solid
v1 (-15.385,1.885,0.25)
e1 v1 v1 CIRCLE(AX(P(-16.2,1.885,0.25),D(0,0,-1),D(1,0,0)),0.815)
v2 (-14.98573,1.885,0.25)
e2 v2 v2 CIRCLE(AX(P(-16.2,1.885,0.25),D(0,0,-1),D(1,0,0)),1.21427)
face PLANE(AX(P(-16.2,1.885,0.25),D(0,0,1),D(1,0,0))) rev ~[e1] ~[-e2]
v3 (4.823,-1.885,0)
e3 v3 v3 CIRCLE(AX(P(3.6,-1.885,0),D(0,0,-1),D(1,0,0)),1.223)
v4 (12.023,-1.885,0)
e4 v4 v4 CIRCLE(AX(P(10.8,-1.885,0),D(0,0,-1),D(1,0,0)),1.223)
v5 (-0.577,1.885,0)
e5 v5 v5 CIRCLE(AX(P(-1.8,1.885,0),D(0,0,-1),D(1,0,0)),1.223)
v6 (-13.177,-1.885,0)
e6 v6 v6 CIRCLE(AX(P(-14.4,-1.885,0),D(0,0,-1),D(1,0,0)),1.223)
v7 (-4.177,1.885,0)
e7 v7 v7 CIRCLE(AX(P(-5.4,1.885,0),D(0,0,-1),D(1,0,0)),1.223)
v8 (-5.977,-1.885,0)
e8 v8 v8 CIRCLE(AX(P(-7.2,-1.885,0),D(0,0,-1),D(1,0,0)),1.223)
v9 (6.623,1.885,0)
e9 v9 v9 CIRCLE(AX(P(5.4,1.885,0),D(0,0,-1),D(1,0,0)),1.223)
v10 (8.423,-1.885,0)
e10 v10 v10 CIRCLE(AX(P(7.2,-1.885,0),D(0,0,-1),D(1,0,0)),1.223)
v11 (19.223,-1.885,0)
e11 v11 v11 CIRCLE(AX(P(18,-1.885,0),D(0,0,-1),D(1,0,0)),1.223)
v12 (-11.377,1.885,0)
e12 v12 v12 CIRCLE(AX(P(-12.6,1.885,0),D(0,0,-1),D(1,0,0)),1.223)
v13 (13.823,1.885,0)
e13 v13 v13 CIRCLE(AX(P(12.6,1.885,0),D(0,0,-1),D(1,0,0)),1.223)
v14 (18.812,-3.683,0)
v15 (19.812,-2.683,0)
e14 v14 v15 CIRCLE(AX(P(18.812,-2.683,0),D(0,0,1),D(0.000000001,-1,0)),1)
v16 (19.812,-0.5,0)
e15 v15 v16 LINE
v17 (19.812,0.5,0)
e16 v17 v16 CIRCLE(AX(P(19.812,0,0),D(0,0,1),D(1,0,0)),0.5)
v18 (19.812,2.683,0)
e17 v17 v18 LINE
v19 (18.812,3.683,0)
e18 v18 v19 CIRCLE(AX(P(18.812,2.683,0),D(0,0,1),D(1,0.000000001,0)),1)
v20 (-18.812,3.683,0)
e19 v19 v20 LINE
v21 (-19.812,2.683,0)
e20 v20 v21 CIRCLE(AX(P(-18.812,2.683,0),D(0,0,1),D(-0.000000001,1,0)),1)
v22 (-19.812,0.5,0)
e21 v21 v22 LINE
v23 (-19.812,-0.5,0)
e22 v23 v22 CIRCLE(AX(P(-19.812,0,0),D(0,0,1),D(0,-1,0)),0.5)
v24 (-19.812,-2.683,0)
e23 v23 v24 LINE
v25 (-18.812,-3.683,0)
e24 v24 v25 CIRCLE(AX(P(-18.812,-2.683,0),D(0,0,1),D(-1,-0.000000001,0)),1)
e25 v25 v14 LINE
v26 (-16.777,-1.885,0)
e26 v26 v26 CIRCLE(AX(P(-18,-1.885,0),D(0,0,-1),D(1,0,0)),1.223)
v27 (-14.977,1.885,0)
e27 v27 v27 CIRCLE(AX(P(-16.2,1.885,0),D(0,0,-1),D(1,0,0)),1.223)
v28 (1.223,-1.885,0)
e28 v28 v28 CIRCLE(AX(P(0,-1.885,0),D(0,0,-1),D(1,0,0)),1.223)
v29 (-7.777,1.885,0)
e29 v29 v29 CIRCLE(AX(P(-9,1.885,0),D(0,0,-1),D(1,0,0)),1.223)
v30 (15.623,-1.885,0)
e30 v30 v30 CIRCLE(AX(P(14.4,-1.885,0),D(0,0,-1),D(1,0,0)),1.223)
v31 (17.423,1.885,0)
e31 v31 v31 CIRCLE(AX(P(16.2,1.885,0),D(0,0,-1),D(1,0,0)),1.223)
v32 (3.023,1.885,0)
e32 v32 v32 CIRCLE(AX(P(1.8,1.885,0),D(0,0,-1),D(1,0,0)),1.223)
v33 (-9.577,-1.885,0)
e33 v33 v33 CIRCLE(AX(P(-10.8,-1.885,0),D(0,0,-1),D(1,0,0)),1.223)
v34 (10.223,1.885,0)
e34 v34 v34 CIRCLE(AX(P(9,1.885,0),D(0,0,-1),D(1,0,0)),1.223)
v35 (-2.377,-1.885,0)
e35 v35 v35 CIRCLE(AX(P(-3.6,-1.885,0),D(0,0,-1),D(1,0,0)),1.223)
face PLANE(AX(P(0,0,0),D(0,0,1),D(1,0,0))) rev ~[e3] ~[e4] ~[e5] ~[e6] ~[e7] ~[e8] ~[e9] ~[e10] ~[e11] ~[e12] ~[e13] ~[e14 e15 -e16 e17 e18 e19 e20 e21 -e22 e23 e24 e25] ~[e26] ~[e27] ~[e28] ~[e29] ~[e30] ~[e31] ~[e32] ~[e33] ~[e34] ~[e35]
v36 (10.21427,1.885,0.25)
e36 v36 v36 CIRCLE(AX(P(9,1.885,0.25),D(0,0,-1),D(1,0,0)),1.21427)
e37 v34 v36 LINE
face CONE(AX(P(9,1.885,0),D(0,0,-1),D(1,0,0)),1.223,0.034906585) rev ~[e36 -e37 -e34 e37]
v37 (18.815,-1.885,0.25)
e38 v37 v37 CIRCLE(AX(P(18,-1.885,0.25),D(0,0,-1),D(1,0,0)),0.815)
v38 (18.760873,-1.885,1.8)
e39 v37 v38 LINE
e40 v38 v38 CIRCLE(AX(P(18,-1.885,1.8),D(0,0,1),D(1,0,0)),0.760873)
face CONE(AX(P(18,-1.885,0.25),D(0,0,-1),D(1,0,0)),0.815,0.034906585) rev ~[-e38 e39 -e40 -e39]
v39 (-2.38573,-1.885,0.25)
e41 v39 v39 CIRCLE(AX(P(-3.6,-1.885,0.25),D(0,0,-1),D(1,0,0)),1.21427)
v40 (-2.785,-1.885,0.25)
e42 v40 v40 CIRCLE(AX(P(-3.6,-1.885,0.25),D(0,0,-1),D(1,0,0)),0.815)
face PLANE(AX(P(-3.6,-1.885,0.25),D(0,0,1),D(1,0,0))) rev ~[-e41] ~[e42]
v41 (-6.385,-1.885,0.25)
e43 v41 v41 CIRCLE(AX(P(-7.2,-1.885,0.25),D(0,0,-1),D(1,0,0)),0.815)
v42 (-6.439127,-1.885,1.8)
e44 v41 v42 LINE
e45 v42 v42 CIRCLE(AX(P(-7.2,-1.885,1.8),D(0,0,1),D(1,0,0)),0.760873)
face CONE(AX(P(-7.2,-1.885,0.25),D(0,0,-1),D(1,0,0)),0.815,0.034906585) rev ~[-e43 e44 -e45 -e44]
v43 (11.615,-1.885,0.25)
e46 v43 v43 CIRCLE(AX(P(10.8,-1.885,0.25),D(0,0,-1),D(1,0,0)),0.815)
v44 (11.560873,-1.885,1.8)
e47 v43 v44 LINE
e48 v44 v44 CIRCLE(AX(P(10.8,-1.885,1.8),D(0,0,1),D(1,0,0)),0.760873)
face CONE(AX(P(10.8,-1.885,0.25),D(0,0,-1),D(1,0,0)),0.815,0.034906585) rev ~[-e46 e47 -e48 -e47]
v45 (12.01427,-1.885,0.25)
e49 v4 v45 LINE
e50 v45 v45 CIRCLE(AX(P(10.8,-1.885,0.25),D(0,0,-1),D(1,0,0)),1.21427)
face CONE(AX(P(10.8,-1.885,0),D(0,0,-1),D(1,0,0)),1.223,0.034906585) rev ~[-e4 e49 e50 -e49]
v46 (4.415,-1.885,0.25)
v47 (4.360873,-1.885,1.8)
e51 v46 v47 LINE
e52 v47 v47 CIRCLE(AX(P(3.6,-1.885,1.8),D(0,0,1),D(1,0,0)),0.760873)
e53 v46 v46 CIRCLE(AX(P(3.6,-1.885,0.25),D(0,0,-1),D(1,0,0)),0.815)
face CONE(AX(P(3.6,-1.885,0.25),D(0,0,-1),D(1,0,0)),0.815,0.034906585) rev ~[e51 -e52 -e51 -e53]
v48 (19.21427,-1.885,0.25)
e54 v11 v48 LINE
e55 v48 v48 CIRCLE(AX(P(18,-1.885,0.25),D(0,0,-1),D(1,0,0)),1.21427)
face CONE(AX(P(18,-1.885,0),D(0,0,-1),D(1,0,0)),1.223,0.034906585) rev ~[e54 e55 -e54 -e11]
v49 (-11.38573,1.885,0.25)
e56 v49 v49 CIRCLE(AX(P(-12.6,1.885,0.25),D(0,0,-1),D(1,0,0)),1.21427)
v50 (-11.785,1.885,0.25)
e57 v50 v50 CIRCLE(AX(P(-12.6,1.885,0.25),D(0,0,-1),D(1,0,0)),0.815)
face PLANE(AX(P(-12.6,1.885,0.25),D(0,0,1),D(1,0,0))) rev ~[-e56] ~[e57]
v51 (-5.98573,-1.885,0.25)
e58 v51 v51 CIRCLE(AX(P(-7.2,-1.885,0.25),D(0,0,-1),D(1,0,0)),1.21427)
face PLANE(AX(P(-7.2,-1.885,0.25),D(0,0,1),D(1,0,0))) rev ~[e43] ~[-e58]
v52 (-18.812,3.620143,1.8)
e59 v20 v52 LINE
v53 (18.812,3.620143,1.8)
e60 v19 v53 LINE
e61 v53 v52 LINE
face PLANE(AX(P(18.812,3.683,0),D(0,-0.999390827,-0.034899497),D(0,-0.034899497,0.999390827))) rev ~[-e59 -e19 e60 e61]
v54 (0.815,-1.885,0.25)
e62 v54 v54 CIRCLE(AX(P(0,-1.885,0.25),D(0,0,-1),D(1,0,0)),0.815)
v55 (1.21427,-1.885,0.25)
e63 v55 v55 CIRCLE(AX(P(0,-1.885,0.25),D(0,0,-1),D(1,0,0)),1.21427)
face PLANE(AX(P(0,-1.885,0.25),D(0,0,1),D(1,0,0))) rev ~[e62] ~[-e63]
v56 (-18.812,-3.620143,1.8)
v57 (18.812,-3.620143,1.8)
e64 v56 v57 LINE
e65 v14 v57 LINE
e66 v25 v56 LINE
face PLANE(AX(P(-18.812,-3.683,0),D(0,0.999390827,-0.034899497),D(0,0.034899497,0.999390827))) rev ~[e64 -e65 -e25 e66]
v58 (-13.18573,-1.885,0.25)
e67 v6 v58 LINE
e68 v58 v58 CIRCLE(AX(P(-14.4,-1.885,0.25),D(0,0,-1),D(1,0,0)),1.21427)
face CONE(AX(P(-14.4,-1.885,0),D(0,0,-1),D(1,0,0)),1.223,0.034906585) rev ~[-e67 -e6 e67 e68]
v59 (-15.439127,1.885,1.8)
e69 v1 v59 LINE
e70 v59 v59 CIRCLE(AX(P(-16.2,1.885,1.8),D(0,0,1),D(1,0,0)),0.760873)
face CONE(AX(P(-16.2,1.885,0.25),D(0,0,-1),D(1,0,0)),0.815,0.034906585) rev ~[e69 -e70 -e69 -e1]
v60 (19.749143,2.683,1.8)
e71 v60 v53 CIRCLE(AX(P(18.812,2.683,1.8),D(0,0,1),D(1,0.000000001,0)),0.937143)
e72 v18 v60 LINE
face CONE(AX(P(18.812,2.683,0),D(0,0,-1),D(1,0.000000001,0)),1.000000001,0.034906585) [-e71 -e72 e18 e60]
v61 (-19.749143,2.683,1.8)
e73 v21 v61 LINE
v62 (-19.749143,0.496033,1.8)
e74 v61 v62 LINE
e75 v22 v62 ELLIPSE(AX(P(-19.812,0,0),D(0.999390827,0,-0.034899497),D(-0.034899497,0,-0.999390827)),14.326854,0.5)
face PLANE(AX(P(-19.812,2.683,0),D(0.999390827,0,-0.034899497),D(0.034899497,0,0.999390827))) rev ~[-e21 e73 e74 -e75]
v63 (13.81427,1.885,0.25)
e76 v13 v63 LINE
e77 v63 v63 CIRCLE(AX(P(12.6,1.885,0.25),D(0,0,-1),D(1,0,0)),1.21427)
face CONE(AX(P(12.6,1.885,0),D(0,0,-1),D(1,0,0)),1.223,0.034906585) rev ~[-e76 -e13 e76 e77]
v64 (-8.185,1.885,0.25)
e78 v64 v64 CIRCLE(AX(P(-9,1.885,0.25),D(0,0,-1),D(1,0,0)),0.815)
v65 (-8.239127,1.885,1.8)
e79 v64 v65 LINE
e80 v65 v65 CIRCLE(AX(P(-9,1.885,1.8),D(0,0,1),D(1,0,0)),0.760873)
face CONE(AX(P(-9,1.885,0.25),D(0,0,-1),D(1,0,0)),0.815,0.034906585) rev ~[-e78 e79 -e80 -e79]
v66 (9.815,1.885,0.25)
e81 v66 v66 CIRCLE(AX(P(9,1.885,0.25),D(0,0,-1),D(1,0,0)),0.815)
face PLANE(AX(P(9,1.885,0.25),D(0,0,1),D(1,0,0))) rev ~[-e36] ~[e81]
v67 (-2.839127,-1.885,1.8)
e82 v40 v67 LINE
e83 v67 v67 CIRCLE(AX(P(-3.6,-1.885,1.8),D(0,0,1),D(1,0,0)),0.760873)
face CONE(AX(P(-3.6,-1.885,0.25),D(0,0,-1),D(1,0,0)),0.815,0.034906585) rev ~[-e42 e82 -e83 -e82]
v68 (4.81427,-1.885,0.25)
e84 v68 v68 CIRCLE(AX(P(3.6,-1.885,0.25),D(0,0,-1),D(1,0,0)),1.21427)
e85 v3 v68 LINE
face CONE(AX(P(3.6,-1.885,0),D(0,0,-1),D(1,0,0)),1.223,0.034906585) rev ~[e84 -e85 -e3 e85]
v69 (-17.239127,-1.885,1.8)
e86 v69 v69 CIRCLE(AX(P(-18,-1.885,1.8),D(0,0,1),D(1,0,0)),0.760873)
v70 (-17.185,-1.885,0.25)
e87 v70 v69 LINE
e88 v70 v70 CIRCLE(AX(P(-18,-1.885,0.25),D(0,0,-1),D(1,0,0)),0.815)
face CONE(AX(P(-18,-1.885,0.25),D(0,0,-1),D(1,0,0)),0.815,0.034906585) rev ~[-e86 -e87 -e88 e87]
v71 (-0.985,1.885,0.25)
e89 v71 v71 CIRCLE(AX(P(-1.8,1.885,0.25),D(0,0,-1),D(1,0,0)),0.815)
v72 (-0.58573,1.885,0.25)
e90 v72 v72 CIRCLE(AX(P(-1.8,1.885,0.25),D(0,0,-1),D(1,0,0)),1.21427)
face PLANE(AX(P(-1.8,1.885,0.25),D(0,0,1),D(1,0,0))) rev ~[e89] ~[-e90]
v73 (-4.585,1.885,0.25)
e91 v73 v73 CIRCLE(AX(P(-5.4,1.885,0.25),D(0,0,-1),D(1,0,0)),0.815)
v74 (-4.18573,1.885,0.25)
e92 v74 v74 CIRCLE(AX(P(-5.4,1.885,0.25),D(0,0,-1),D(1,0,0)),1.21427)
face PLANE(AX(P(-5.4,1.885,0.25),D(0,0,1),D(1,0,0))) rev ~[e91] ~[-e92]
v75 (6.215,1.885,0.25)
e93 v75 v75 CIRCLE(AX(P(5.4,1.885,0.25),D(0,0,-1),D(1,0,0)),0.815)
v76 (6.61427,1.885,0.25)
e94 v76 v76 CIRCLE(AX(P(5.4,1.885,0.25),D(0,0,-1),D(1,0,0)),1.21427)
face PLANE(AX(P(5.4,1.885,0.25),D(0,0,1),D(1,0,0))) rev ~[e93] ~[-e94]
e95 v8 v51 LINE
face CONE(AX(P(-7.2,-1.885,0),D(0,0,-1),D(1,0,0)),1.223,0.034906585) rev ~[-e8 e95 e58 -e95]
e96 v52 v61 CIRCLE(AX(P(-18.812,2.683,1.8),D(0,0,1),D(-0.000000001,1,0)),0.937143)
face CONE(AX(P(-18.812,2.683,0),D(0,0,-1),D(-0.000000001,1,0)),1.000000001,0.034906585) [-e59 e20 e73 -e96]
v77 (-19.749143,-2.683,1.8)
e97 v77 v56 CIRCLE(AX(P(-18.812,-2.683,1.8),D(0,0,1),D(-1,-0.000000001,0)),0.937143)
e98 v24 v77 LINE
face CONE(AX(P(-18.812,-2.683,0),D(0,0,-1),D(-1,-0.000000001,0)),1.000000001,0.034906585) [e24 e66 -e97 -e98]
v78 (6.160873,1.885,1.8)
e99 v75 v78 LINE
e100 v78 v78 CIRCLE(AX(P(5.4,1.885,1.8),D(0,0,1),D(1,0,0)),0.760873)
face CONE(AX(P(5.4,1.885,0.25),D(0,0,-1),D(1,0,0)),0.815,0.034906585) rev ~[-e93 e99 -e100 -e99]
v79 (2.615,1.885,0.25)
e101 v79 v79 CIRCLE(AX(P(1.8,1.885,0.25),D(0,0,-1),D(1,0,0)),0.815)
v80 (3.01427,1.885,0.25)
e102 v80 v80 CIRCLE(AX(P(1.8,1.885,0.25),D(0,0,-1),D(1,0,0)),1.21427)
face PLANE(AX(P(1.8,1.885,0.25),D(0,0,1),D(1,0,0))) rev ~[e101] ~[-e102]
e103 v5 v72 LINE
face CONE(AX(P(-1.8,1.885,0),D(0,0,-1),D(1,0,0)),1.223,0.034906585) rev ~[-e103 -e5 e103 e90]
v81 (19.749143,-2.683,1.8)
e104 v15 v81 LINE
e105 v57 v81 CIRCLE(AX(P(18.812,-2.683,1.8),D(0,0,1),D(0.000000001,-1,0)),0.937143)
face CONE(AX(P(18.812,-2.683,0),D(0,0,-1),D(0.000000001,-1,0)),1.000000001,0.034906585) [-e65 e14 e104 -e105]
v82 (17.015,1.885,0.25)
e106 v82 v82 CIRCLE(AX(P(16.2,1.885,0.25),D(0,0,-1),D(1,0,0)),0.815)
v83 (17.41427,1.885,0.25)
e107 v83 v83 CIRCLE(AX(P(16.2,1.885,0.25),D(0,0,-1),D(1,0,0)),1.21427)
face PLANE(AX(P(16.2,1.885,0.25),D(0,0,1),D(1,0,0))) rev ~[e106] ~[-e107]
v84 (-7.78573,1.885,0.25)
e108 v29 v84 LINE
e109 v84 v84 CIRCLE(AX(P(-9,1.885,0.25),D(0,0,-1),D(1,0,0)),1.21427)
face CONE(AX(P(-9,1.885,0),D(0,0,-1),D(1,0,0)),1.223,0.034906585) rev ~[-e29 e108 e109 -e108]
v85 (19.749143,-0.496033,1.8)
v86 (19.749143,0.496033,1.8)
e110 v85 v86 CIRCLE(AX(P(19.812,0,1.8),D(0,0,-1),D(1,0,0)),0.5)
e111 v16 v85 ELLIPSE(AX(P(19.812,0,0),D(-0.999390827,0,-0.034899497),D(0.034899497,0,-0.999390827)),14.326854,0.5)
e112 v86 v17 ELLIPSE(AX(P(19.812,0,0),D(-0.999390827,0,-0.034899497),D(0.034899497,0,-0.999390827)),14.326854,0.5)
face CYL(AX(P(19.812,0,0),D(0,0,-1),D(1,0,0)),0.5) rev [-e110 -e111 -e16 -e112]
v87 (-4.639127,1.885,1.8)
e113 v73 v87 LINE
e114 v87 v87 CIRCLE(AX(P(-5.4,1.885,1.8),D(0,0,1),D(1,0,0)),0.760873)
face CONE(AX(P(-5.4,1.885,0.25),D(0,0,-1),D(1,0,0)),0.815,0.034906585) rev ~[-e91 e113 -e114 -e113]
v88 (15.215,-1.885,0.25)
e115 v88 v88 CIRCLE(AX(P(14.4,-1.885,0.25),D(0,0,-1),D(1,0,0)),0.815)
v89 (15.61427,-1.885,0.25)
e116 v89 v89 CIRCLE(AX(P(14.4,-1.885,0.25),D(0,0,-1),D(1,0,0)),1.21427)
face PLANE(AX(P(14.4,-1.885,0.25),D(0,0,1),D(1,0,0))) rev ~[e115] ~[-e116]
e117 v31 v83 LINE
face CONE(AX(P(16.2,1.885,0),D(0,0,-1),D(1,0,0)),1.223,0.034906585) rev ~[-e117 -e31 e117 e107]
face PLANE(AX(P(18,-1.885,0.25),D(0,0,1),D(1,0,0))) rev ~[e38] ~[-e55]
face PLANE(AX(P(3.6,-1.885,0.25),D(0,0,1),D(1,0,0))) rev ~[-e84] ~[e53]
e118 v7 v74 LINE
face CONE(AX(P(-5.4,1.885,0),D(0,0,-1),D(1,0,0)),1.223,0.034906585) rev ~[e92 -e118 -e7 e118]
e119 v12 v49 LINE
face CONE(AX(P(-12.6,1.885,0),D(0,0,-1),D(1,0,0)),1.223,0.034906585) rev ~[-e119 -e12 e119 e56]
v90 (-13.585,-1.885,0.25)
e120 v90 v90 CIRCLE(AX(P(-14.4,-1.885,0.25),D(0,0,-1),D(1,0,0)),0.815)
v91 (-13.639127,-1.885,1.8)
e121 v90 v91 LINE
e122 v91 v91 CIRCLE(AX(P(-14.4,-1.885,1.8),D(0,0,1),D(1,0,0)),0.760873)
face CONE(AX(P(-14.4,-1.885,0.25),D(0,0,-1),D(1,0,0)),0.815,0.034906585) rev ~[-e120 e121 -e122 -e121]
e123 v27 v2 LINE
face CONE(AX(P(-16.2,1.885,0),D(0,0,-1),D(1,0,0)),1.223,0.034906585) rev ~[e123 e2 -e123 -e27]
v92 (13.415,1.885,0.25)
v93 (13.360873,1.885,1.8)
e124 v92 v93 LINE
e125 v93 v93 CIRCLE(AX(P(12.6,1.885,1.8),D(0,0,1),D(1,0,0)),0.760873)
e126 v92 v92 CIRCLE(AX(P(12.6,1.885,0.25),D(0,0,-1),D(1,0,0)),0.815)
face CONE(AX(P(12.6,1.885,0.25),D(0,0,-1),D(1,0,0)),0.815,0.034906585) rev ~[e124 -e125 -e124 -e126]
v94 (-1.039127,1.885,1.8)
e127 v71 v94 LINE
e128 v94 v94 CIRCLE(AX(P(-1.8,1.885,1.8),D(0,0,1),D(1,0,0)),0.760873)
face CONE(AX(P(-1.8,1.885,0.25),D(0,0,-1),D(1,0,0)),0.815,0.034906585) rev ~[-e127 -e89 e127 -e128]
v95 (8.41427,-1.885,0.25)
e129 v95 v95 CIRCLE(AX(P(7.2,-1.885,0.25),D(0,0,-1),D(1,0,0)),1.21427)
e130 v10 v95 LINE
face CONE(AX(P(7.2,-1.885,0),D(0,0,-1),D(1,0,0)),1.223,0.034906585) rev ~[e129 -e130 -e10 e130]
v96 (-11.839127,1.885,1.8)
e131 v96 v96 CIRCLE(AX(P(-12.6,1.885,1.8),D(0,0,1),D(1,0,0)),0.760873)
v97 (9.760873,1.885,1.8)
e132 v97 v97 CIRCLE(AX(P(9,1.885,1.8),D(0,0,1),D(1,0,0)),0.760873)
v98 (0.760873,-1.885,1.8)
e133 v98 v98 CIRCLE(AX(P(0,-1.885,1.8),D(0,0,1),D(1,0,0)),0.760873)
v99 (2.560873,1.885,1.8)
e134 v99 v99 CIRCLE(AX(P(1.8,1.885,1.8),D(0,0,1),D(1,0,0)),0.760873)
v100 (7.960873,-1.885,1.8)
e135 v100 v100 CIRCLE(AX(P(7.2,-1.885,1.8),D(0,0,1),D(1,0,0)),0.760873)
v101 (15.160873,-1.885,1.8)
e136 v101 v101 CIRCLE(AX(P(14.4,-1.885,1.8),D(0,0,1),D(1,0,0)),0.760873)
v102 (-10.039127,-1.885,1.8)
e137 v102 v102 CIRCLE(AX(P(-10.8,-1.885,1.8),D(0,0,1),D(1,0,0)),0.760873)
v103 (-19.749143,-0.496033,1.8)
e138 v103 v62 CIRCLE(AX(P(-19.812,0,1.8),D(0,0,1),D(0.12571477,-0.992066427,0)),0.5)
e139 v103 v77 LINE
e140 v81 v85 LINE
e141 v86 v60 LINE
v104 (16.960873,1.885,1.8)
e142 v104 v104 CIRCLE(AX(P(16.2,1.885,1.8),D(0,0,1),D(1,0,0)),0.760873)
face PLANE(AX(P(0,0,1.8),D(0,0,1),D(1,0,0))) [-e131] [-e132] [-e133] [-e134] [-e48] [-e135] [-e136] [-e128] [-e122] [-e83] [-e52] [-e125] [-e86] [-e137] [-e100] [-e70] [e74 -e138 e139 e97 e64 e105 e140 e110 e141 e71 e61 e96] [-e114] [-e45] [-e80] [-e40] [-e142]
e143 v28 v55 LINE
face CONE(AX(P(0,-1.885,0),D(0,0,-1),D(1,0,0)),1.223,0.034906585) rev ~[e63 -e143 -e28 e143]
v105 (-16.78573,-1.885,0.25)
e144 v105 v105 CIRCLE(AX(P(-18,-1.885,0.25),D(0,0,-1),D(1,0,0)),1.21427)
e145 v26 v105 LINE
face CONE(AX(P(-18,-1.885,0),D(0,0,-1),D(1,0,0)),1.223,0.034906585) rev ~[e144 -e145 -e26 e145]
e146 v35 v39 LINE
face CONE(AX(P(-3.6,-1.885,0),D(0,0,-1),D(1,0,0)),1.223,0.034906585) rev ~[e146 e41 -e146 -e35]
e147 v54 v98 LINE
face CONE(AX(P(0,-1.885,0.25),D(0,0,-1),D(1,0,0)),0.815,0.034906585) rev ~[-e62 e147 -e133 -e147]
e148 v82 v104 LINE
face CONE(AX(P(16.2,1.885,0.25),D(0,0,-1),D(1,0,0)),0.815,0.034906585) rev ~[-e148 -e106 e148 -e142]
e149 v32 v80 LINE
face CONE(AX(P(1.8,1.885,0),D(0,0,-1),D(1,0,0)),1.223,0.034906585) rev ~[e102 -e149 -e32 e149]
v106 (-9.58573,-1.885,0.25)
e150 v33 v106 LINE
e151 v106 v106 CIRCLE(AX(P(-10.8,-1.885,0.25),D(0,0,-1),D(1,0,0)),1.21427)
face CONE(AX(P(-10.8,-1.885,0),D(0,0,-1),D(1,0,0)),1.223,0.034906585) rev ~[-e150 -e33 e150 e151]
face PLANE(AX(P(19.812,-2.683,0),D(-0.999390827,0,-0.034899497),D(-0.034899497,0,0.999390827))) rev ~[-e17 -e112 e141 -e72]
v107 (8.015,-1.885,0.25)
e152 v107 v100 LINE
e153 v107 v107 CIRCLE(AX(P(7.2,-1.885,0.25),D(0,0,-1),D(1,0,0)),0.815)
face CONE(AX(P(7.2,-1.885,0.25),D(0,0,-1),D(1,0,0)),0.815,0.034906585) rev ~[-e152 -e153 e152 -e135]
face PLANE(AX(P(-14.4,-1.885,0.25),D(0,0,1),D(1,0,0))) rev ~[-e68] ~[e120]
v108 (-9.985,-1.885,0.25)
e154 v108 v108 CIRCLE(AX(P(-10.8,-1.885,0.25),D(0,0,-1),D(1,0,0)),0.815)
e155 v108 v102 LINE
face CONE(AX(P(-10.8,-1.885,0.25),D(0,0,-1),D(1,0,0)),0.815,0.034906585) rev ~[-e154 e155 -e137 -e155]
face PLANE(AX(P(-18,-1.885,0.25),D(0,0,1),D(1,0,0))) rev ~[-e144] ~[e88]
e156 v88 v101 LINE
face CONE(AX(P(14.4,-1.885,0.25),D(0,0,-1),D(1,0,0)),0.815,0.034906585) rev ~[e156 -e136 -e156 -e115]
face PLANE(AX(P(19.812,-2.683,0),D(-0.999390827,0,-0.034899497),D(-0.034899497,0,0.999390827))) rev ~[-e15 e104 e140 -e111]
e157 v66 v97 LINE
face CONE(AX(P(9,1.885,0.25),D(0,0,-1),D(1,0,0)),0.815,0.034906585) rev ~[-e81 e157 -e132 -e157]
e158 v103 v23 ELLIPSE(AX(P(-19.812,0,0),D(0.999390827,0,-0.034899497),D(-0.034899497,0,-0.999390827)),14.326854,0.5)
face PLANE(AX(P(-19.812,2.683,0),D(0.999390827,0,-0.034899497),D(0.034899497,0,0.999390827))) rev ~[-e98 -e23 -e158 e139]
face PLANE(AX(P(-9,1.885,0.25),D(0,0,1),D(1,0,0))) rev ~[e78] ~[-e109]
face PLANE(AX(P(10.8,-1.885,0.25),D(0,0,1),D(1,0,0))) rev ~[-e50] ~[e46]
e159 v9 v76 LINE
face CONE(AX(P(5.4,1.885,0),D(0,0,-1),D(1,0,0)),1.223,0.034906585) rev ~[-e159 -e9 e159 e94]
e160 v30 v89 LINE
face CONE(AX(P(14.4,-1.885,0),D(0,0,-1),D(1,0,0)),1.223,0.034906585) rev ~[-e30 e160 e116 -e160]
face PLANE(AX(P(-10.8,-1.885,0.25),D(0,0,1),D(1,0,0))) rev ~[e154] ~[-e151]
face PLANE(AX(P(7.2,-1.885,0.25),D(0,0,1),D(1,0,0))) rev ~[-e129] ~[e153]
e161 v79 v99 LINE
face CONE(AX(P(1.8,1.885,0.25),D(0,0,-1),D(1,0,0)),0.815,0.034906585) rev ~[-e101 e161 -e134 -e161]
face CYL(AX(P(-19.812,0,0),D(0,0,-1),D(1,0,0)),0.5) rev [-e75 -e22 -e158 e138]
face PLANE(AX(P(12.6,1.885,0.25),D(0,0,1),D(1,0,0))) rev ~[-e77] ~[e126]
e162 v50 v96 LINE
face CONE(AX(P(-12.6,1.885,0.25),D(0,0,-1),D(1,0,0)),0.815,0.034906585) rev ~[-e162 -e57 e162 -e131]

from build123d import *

# Parameters (mm, degrees)
BOSS_EXTRUDE1_DEPTH = 1.8
BOSS_EXTRUDE1_TAPER = 2
SKETCH10_R          = 1.223
CUT_EXTRUDE2_DEPTH  = 0.25
CUT_EXTRUDE2_TAPER  = 2
SKETCH9_R           = 0.815
CUT_EXTRUDE3_DEPTH  = 2.55
CUT_EXTRUDE3_TAPER  = 2
SKETCH12_R          = 0.5
CUT_EXTRUDE4_DEPTH  = 2.8


with BuildPart() as part:
    # Sketch11 → Boss-Extrude1 (new body)
    with BuildSketch(Plane.XY):
        with BuildLine():
            Line((19.812, 0.5), (19.812, 2.683))
            ThreePointArc((19.812, 2.683), (19.519106781, 3.390106781), (18.812, 3.683))
            Line((18.812, 3.683), (-18.812, 3.683))
            ThreePointArc((-18.812, 3.683), (-19.519106781, 3.390106781), (-19.812, 2.683))
            Line((-19.812, 2.683), (-19.812, 0.5))
            Line((-19.812, 0.5), (-19.812, -0.5))
            Line((-19.812, -0.5), (-19.812, -2.683))
            ThreePointArc((-19.812, -2.683), (-19.519106781, -3.390106781), (-18.812, -3.683))
            Line((-18.812, -3.683), (18.812, -3.683))
            ThreePointArc((18.812, -3.683), (19.519106781, -3.390106781), (19.812, -2.683))
            Line((19.812, -2.683), (19.812, -0.5))
            Line((19.812, -0.5), (19.812, 0.5))
        make_face()
    extrude(amount=BOSS_EXTRUDE1_DEPTH, taper=BOSS_EXTRUDE1_TAPER)

    # Sketch10 → Cut-Extrude2 (cut)
    with BuildSketch(Plane.XY):
        with Locations((16.2, 1.885)):
            Circle(SKETCH10_R)
        with Locations((12.6, 1.885)):
            Circle(SKETCH10_R)
        with Locations((9, 1.885)):
            Circle(SKETCH10_R)
        with Locations((5.4, 1.885)):
            Circle(SKETCH10_R)
        with Locations((1.8, 1.885)):
            Circle(SKETCH10_R)
        with Locations((-1.8, 1.885)):
            Circle(SKETCH10_R)
        with Locations((-5.4, 1.885)):
            Circle(SKETCH10_R)
        with Locations((-9, 1.885)):
            Circle(SKETCH10_R)
        with Locations((-12.6, 1.885)):
            Circle(SKETCH10_R)
        with Locations((-16.2, 1.885)):
            Circle(SKETCH10_R)
        with Locations((-18, -1.885)):
            Circle(SKETCH10_R)
        with Locations((-14.4, -1.885)):
            Circle(SKETCH10_R)
        with Locations((-10.8, -1.885)):
            Circle(SKETCH10_R)
        with Locations((-7.2, -1.885)):
            Circle(SKETCH10_R)
        with Locations((-3.6, -1.885)):
            Circle(SKETCH10_R)
        with Locations((0, -1.885)):
            Circle(SKETCH10_R)
        with Locations((3.6, -1.885)):
            Circle(SKETCH10_R)
        with Locations((7.2, -1.885)):
            Circle(SKETCH10_R)
        with Locations((10.8, -1.885)):
            Circle(SKETCH10_R)
        with Locations((14.4, -1.885)):
            Circle(SKETCH10_R)
        with Locations((18, -1.885)):
            Circle(SKETCH10_R)
    extrude(amount=CUT_EXTRUDE2_DEPTH, taper=CUT_EXTRUDE2_TAPER, mode=Mode.SUBTRACT)

    # Sketch9 → Cut-Extrude3 (cut, through all)
    with BuildSketch(Plane.XY.offset(0.25)):
        with Locations((16.2, 1.885)):
            Circle(SKETCH9_R)
        with Locations((12.6, 1.885)):
            Circle(SKETCH9_R)
        with Locations((9, 1.885)):
            Circle(SKETCH9_R)
        with Locations((5.4, 1.885)):
            Circle(SKETCH9_R)
        with Locations((1.8, 1.885)):
            Circle(SKETCH9_R)
        with Locations((-1.8, 1.885)):
            Circle(SKETCH9_R)
        with Locations((-5.4, 1.885)):
            Circle(SKETCH9_R)
        with Locations((-9, 1.885)):
            Circle(SKETCH9_R)
        with Locations((-12.6, 1.885)):
            Circle(SKETCH9_R)
        with Locations((-16.2, 1.885)):
            Circle(SKETCH9_R)
        with Locations((-18, -1.885)):
            Circle(SKETCH9_R)
        with Locations((-14.4, -1.885)):
            Circle(SKETCH9_R)
        with Locations((-10.8, -1.885)):
            Circle(SKETCH9_R)
        with Locations((-7.2, -1.885)):
            Circle(SKETCH9_R)
        with Locations((-3.6, -1.885)):
            Circle(SKETCH9_R)
        with Locations((0, -1.885)):
            Circle(SKETCH9_R)
        with Locations((3.6, -1.885)):
            Circle(SKETCH9_R)
        with Locations((7.2, -1.885)):
            Circle(SKETCH9_R)
        with Locations((10.8, -1.885)):
            Circle(SKETCH9_R)
        with Locations((14.4, -1.885)):
            Circle(SKETCH9_R)
        with Locations((18, -1.885)):
            Circle(SKETCH9_R)
    extrude(amount=CUT_EXTRUDE3_DEPTH, taper=CUT_EXTRUDE3_TAPER, mode=Mode.SUBTRACT)

    # Sketch12 → Cut-Extrude4 (cut, through all)
    with BuildSketch(Plane.XY):
        with Locations((19.812, 0)):
            Circle(SKETCH12_R)
        with Locations((-19.812, 0)):
            Circle(SKETCH12_R)
    extrude(amount=CUT_EXTRUDE4_DEPTH, mode=Mode.SUBTRACT)


solid = part.part
